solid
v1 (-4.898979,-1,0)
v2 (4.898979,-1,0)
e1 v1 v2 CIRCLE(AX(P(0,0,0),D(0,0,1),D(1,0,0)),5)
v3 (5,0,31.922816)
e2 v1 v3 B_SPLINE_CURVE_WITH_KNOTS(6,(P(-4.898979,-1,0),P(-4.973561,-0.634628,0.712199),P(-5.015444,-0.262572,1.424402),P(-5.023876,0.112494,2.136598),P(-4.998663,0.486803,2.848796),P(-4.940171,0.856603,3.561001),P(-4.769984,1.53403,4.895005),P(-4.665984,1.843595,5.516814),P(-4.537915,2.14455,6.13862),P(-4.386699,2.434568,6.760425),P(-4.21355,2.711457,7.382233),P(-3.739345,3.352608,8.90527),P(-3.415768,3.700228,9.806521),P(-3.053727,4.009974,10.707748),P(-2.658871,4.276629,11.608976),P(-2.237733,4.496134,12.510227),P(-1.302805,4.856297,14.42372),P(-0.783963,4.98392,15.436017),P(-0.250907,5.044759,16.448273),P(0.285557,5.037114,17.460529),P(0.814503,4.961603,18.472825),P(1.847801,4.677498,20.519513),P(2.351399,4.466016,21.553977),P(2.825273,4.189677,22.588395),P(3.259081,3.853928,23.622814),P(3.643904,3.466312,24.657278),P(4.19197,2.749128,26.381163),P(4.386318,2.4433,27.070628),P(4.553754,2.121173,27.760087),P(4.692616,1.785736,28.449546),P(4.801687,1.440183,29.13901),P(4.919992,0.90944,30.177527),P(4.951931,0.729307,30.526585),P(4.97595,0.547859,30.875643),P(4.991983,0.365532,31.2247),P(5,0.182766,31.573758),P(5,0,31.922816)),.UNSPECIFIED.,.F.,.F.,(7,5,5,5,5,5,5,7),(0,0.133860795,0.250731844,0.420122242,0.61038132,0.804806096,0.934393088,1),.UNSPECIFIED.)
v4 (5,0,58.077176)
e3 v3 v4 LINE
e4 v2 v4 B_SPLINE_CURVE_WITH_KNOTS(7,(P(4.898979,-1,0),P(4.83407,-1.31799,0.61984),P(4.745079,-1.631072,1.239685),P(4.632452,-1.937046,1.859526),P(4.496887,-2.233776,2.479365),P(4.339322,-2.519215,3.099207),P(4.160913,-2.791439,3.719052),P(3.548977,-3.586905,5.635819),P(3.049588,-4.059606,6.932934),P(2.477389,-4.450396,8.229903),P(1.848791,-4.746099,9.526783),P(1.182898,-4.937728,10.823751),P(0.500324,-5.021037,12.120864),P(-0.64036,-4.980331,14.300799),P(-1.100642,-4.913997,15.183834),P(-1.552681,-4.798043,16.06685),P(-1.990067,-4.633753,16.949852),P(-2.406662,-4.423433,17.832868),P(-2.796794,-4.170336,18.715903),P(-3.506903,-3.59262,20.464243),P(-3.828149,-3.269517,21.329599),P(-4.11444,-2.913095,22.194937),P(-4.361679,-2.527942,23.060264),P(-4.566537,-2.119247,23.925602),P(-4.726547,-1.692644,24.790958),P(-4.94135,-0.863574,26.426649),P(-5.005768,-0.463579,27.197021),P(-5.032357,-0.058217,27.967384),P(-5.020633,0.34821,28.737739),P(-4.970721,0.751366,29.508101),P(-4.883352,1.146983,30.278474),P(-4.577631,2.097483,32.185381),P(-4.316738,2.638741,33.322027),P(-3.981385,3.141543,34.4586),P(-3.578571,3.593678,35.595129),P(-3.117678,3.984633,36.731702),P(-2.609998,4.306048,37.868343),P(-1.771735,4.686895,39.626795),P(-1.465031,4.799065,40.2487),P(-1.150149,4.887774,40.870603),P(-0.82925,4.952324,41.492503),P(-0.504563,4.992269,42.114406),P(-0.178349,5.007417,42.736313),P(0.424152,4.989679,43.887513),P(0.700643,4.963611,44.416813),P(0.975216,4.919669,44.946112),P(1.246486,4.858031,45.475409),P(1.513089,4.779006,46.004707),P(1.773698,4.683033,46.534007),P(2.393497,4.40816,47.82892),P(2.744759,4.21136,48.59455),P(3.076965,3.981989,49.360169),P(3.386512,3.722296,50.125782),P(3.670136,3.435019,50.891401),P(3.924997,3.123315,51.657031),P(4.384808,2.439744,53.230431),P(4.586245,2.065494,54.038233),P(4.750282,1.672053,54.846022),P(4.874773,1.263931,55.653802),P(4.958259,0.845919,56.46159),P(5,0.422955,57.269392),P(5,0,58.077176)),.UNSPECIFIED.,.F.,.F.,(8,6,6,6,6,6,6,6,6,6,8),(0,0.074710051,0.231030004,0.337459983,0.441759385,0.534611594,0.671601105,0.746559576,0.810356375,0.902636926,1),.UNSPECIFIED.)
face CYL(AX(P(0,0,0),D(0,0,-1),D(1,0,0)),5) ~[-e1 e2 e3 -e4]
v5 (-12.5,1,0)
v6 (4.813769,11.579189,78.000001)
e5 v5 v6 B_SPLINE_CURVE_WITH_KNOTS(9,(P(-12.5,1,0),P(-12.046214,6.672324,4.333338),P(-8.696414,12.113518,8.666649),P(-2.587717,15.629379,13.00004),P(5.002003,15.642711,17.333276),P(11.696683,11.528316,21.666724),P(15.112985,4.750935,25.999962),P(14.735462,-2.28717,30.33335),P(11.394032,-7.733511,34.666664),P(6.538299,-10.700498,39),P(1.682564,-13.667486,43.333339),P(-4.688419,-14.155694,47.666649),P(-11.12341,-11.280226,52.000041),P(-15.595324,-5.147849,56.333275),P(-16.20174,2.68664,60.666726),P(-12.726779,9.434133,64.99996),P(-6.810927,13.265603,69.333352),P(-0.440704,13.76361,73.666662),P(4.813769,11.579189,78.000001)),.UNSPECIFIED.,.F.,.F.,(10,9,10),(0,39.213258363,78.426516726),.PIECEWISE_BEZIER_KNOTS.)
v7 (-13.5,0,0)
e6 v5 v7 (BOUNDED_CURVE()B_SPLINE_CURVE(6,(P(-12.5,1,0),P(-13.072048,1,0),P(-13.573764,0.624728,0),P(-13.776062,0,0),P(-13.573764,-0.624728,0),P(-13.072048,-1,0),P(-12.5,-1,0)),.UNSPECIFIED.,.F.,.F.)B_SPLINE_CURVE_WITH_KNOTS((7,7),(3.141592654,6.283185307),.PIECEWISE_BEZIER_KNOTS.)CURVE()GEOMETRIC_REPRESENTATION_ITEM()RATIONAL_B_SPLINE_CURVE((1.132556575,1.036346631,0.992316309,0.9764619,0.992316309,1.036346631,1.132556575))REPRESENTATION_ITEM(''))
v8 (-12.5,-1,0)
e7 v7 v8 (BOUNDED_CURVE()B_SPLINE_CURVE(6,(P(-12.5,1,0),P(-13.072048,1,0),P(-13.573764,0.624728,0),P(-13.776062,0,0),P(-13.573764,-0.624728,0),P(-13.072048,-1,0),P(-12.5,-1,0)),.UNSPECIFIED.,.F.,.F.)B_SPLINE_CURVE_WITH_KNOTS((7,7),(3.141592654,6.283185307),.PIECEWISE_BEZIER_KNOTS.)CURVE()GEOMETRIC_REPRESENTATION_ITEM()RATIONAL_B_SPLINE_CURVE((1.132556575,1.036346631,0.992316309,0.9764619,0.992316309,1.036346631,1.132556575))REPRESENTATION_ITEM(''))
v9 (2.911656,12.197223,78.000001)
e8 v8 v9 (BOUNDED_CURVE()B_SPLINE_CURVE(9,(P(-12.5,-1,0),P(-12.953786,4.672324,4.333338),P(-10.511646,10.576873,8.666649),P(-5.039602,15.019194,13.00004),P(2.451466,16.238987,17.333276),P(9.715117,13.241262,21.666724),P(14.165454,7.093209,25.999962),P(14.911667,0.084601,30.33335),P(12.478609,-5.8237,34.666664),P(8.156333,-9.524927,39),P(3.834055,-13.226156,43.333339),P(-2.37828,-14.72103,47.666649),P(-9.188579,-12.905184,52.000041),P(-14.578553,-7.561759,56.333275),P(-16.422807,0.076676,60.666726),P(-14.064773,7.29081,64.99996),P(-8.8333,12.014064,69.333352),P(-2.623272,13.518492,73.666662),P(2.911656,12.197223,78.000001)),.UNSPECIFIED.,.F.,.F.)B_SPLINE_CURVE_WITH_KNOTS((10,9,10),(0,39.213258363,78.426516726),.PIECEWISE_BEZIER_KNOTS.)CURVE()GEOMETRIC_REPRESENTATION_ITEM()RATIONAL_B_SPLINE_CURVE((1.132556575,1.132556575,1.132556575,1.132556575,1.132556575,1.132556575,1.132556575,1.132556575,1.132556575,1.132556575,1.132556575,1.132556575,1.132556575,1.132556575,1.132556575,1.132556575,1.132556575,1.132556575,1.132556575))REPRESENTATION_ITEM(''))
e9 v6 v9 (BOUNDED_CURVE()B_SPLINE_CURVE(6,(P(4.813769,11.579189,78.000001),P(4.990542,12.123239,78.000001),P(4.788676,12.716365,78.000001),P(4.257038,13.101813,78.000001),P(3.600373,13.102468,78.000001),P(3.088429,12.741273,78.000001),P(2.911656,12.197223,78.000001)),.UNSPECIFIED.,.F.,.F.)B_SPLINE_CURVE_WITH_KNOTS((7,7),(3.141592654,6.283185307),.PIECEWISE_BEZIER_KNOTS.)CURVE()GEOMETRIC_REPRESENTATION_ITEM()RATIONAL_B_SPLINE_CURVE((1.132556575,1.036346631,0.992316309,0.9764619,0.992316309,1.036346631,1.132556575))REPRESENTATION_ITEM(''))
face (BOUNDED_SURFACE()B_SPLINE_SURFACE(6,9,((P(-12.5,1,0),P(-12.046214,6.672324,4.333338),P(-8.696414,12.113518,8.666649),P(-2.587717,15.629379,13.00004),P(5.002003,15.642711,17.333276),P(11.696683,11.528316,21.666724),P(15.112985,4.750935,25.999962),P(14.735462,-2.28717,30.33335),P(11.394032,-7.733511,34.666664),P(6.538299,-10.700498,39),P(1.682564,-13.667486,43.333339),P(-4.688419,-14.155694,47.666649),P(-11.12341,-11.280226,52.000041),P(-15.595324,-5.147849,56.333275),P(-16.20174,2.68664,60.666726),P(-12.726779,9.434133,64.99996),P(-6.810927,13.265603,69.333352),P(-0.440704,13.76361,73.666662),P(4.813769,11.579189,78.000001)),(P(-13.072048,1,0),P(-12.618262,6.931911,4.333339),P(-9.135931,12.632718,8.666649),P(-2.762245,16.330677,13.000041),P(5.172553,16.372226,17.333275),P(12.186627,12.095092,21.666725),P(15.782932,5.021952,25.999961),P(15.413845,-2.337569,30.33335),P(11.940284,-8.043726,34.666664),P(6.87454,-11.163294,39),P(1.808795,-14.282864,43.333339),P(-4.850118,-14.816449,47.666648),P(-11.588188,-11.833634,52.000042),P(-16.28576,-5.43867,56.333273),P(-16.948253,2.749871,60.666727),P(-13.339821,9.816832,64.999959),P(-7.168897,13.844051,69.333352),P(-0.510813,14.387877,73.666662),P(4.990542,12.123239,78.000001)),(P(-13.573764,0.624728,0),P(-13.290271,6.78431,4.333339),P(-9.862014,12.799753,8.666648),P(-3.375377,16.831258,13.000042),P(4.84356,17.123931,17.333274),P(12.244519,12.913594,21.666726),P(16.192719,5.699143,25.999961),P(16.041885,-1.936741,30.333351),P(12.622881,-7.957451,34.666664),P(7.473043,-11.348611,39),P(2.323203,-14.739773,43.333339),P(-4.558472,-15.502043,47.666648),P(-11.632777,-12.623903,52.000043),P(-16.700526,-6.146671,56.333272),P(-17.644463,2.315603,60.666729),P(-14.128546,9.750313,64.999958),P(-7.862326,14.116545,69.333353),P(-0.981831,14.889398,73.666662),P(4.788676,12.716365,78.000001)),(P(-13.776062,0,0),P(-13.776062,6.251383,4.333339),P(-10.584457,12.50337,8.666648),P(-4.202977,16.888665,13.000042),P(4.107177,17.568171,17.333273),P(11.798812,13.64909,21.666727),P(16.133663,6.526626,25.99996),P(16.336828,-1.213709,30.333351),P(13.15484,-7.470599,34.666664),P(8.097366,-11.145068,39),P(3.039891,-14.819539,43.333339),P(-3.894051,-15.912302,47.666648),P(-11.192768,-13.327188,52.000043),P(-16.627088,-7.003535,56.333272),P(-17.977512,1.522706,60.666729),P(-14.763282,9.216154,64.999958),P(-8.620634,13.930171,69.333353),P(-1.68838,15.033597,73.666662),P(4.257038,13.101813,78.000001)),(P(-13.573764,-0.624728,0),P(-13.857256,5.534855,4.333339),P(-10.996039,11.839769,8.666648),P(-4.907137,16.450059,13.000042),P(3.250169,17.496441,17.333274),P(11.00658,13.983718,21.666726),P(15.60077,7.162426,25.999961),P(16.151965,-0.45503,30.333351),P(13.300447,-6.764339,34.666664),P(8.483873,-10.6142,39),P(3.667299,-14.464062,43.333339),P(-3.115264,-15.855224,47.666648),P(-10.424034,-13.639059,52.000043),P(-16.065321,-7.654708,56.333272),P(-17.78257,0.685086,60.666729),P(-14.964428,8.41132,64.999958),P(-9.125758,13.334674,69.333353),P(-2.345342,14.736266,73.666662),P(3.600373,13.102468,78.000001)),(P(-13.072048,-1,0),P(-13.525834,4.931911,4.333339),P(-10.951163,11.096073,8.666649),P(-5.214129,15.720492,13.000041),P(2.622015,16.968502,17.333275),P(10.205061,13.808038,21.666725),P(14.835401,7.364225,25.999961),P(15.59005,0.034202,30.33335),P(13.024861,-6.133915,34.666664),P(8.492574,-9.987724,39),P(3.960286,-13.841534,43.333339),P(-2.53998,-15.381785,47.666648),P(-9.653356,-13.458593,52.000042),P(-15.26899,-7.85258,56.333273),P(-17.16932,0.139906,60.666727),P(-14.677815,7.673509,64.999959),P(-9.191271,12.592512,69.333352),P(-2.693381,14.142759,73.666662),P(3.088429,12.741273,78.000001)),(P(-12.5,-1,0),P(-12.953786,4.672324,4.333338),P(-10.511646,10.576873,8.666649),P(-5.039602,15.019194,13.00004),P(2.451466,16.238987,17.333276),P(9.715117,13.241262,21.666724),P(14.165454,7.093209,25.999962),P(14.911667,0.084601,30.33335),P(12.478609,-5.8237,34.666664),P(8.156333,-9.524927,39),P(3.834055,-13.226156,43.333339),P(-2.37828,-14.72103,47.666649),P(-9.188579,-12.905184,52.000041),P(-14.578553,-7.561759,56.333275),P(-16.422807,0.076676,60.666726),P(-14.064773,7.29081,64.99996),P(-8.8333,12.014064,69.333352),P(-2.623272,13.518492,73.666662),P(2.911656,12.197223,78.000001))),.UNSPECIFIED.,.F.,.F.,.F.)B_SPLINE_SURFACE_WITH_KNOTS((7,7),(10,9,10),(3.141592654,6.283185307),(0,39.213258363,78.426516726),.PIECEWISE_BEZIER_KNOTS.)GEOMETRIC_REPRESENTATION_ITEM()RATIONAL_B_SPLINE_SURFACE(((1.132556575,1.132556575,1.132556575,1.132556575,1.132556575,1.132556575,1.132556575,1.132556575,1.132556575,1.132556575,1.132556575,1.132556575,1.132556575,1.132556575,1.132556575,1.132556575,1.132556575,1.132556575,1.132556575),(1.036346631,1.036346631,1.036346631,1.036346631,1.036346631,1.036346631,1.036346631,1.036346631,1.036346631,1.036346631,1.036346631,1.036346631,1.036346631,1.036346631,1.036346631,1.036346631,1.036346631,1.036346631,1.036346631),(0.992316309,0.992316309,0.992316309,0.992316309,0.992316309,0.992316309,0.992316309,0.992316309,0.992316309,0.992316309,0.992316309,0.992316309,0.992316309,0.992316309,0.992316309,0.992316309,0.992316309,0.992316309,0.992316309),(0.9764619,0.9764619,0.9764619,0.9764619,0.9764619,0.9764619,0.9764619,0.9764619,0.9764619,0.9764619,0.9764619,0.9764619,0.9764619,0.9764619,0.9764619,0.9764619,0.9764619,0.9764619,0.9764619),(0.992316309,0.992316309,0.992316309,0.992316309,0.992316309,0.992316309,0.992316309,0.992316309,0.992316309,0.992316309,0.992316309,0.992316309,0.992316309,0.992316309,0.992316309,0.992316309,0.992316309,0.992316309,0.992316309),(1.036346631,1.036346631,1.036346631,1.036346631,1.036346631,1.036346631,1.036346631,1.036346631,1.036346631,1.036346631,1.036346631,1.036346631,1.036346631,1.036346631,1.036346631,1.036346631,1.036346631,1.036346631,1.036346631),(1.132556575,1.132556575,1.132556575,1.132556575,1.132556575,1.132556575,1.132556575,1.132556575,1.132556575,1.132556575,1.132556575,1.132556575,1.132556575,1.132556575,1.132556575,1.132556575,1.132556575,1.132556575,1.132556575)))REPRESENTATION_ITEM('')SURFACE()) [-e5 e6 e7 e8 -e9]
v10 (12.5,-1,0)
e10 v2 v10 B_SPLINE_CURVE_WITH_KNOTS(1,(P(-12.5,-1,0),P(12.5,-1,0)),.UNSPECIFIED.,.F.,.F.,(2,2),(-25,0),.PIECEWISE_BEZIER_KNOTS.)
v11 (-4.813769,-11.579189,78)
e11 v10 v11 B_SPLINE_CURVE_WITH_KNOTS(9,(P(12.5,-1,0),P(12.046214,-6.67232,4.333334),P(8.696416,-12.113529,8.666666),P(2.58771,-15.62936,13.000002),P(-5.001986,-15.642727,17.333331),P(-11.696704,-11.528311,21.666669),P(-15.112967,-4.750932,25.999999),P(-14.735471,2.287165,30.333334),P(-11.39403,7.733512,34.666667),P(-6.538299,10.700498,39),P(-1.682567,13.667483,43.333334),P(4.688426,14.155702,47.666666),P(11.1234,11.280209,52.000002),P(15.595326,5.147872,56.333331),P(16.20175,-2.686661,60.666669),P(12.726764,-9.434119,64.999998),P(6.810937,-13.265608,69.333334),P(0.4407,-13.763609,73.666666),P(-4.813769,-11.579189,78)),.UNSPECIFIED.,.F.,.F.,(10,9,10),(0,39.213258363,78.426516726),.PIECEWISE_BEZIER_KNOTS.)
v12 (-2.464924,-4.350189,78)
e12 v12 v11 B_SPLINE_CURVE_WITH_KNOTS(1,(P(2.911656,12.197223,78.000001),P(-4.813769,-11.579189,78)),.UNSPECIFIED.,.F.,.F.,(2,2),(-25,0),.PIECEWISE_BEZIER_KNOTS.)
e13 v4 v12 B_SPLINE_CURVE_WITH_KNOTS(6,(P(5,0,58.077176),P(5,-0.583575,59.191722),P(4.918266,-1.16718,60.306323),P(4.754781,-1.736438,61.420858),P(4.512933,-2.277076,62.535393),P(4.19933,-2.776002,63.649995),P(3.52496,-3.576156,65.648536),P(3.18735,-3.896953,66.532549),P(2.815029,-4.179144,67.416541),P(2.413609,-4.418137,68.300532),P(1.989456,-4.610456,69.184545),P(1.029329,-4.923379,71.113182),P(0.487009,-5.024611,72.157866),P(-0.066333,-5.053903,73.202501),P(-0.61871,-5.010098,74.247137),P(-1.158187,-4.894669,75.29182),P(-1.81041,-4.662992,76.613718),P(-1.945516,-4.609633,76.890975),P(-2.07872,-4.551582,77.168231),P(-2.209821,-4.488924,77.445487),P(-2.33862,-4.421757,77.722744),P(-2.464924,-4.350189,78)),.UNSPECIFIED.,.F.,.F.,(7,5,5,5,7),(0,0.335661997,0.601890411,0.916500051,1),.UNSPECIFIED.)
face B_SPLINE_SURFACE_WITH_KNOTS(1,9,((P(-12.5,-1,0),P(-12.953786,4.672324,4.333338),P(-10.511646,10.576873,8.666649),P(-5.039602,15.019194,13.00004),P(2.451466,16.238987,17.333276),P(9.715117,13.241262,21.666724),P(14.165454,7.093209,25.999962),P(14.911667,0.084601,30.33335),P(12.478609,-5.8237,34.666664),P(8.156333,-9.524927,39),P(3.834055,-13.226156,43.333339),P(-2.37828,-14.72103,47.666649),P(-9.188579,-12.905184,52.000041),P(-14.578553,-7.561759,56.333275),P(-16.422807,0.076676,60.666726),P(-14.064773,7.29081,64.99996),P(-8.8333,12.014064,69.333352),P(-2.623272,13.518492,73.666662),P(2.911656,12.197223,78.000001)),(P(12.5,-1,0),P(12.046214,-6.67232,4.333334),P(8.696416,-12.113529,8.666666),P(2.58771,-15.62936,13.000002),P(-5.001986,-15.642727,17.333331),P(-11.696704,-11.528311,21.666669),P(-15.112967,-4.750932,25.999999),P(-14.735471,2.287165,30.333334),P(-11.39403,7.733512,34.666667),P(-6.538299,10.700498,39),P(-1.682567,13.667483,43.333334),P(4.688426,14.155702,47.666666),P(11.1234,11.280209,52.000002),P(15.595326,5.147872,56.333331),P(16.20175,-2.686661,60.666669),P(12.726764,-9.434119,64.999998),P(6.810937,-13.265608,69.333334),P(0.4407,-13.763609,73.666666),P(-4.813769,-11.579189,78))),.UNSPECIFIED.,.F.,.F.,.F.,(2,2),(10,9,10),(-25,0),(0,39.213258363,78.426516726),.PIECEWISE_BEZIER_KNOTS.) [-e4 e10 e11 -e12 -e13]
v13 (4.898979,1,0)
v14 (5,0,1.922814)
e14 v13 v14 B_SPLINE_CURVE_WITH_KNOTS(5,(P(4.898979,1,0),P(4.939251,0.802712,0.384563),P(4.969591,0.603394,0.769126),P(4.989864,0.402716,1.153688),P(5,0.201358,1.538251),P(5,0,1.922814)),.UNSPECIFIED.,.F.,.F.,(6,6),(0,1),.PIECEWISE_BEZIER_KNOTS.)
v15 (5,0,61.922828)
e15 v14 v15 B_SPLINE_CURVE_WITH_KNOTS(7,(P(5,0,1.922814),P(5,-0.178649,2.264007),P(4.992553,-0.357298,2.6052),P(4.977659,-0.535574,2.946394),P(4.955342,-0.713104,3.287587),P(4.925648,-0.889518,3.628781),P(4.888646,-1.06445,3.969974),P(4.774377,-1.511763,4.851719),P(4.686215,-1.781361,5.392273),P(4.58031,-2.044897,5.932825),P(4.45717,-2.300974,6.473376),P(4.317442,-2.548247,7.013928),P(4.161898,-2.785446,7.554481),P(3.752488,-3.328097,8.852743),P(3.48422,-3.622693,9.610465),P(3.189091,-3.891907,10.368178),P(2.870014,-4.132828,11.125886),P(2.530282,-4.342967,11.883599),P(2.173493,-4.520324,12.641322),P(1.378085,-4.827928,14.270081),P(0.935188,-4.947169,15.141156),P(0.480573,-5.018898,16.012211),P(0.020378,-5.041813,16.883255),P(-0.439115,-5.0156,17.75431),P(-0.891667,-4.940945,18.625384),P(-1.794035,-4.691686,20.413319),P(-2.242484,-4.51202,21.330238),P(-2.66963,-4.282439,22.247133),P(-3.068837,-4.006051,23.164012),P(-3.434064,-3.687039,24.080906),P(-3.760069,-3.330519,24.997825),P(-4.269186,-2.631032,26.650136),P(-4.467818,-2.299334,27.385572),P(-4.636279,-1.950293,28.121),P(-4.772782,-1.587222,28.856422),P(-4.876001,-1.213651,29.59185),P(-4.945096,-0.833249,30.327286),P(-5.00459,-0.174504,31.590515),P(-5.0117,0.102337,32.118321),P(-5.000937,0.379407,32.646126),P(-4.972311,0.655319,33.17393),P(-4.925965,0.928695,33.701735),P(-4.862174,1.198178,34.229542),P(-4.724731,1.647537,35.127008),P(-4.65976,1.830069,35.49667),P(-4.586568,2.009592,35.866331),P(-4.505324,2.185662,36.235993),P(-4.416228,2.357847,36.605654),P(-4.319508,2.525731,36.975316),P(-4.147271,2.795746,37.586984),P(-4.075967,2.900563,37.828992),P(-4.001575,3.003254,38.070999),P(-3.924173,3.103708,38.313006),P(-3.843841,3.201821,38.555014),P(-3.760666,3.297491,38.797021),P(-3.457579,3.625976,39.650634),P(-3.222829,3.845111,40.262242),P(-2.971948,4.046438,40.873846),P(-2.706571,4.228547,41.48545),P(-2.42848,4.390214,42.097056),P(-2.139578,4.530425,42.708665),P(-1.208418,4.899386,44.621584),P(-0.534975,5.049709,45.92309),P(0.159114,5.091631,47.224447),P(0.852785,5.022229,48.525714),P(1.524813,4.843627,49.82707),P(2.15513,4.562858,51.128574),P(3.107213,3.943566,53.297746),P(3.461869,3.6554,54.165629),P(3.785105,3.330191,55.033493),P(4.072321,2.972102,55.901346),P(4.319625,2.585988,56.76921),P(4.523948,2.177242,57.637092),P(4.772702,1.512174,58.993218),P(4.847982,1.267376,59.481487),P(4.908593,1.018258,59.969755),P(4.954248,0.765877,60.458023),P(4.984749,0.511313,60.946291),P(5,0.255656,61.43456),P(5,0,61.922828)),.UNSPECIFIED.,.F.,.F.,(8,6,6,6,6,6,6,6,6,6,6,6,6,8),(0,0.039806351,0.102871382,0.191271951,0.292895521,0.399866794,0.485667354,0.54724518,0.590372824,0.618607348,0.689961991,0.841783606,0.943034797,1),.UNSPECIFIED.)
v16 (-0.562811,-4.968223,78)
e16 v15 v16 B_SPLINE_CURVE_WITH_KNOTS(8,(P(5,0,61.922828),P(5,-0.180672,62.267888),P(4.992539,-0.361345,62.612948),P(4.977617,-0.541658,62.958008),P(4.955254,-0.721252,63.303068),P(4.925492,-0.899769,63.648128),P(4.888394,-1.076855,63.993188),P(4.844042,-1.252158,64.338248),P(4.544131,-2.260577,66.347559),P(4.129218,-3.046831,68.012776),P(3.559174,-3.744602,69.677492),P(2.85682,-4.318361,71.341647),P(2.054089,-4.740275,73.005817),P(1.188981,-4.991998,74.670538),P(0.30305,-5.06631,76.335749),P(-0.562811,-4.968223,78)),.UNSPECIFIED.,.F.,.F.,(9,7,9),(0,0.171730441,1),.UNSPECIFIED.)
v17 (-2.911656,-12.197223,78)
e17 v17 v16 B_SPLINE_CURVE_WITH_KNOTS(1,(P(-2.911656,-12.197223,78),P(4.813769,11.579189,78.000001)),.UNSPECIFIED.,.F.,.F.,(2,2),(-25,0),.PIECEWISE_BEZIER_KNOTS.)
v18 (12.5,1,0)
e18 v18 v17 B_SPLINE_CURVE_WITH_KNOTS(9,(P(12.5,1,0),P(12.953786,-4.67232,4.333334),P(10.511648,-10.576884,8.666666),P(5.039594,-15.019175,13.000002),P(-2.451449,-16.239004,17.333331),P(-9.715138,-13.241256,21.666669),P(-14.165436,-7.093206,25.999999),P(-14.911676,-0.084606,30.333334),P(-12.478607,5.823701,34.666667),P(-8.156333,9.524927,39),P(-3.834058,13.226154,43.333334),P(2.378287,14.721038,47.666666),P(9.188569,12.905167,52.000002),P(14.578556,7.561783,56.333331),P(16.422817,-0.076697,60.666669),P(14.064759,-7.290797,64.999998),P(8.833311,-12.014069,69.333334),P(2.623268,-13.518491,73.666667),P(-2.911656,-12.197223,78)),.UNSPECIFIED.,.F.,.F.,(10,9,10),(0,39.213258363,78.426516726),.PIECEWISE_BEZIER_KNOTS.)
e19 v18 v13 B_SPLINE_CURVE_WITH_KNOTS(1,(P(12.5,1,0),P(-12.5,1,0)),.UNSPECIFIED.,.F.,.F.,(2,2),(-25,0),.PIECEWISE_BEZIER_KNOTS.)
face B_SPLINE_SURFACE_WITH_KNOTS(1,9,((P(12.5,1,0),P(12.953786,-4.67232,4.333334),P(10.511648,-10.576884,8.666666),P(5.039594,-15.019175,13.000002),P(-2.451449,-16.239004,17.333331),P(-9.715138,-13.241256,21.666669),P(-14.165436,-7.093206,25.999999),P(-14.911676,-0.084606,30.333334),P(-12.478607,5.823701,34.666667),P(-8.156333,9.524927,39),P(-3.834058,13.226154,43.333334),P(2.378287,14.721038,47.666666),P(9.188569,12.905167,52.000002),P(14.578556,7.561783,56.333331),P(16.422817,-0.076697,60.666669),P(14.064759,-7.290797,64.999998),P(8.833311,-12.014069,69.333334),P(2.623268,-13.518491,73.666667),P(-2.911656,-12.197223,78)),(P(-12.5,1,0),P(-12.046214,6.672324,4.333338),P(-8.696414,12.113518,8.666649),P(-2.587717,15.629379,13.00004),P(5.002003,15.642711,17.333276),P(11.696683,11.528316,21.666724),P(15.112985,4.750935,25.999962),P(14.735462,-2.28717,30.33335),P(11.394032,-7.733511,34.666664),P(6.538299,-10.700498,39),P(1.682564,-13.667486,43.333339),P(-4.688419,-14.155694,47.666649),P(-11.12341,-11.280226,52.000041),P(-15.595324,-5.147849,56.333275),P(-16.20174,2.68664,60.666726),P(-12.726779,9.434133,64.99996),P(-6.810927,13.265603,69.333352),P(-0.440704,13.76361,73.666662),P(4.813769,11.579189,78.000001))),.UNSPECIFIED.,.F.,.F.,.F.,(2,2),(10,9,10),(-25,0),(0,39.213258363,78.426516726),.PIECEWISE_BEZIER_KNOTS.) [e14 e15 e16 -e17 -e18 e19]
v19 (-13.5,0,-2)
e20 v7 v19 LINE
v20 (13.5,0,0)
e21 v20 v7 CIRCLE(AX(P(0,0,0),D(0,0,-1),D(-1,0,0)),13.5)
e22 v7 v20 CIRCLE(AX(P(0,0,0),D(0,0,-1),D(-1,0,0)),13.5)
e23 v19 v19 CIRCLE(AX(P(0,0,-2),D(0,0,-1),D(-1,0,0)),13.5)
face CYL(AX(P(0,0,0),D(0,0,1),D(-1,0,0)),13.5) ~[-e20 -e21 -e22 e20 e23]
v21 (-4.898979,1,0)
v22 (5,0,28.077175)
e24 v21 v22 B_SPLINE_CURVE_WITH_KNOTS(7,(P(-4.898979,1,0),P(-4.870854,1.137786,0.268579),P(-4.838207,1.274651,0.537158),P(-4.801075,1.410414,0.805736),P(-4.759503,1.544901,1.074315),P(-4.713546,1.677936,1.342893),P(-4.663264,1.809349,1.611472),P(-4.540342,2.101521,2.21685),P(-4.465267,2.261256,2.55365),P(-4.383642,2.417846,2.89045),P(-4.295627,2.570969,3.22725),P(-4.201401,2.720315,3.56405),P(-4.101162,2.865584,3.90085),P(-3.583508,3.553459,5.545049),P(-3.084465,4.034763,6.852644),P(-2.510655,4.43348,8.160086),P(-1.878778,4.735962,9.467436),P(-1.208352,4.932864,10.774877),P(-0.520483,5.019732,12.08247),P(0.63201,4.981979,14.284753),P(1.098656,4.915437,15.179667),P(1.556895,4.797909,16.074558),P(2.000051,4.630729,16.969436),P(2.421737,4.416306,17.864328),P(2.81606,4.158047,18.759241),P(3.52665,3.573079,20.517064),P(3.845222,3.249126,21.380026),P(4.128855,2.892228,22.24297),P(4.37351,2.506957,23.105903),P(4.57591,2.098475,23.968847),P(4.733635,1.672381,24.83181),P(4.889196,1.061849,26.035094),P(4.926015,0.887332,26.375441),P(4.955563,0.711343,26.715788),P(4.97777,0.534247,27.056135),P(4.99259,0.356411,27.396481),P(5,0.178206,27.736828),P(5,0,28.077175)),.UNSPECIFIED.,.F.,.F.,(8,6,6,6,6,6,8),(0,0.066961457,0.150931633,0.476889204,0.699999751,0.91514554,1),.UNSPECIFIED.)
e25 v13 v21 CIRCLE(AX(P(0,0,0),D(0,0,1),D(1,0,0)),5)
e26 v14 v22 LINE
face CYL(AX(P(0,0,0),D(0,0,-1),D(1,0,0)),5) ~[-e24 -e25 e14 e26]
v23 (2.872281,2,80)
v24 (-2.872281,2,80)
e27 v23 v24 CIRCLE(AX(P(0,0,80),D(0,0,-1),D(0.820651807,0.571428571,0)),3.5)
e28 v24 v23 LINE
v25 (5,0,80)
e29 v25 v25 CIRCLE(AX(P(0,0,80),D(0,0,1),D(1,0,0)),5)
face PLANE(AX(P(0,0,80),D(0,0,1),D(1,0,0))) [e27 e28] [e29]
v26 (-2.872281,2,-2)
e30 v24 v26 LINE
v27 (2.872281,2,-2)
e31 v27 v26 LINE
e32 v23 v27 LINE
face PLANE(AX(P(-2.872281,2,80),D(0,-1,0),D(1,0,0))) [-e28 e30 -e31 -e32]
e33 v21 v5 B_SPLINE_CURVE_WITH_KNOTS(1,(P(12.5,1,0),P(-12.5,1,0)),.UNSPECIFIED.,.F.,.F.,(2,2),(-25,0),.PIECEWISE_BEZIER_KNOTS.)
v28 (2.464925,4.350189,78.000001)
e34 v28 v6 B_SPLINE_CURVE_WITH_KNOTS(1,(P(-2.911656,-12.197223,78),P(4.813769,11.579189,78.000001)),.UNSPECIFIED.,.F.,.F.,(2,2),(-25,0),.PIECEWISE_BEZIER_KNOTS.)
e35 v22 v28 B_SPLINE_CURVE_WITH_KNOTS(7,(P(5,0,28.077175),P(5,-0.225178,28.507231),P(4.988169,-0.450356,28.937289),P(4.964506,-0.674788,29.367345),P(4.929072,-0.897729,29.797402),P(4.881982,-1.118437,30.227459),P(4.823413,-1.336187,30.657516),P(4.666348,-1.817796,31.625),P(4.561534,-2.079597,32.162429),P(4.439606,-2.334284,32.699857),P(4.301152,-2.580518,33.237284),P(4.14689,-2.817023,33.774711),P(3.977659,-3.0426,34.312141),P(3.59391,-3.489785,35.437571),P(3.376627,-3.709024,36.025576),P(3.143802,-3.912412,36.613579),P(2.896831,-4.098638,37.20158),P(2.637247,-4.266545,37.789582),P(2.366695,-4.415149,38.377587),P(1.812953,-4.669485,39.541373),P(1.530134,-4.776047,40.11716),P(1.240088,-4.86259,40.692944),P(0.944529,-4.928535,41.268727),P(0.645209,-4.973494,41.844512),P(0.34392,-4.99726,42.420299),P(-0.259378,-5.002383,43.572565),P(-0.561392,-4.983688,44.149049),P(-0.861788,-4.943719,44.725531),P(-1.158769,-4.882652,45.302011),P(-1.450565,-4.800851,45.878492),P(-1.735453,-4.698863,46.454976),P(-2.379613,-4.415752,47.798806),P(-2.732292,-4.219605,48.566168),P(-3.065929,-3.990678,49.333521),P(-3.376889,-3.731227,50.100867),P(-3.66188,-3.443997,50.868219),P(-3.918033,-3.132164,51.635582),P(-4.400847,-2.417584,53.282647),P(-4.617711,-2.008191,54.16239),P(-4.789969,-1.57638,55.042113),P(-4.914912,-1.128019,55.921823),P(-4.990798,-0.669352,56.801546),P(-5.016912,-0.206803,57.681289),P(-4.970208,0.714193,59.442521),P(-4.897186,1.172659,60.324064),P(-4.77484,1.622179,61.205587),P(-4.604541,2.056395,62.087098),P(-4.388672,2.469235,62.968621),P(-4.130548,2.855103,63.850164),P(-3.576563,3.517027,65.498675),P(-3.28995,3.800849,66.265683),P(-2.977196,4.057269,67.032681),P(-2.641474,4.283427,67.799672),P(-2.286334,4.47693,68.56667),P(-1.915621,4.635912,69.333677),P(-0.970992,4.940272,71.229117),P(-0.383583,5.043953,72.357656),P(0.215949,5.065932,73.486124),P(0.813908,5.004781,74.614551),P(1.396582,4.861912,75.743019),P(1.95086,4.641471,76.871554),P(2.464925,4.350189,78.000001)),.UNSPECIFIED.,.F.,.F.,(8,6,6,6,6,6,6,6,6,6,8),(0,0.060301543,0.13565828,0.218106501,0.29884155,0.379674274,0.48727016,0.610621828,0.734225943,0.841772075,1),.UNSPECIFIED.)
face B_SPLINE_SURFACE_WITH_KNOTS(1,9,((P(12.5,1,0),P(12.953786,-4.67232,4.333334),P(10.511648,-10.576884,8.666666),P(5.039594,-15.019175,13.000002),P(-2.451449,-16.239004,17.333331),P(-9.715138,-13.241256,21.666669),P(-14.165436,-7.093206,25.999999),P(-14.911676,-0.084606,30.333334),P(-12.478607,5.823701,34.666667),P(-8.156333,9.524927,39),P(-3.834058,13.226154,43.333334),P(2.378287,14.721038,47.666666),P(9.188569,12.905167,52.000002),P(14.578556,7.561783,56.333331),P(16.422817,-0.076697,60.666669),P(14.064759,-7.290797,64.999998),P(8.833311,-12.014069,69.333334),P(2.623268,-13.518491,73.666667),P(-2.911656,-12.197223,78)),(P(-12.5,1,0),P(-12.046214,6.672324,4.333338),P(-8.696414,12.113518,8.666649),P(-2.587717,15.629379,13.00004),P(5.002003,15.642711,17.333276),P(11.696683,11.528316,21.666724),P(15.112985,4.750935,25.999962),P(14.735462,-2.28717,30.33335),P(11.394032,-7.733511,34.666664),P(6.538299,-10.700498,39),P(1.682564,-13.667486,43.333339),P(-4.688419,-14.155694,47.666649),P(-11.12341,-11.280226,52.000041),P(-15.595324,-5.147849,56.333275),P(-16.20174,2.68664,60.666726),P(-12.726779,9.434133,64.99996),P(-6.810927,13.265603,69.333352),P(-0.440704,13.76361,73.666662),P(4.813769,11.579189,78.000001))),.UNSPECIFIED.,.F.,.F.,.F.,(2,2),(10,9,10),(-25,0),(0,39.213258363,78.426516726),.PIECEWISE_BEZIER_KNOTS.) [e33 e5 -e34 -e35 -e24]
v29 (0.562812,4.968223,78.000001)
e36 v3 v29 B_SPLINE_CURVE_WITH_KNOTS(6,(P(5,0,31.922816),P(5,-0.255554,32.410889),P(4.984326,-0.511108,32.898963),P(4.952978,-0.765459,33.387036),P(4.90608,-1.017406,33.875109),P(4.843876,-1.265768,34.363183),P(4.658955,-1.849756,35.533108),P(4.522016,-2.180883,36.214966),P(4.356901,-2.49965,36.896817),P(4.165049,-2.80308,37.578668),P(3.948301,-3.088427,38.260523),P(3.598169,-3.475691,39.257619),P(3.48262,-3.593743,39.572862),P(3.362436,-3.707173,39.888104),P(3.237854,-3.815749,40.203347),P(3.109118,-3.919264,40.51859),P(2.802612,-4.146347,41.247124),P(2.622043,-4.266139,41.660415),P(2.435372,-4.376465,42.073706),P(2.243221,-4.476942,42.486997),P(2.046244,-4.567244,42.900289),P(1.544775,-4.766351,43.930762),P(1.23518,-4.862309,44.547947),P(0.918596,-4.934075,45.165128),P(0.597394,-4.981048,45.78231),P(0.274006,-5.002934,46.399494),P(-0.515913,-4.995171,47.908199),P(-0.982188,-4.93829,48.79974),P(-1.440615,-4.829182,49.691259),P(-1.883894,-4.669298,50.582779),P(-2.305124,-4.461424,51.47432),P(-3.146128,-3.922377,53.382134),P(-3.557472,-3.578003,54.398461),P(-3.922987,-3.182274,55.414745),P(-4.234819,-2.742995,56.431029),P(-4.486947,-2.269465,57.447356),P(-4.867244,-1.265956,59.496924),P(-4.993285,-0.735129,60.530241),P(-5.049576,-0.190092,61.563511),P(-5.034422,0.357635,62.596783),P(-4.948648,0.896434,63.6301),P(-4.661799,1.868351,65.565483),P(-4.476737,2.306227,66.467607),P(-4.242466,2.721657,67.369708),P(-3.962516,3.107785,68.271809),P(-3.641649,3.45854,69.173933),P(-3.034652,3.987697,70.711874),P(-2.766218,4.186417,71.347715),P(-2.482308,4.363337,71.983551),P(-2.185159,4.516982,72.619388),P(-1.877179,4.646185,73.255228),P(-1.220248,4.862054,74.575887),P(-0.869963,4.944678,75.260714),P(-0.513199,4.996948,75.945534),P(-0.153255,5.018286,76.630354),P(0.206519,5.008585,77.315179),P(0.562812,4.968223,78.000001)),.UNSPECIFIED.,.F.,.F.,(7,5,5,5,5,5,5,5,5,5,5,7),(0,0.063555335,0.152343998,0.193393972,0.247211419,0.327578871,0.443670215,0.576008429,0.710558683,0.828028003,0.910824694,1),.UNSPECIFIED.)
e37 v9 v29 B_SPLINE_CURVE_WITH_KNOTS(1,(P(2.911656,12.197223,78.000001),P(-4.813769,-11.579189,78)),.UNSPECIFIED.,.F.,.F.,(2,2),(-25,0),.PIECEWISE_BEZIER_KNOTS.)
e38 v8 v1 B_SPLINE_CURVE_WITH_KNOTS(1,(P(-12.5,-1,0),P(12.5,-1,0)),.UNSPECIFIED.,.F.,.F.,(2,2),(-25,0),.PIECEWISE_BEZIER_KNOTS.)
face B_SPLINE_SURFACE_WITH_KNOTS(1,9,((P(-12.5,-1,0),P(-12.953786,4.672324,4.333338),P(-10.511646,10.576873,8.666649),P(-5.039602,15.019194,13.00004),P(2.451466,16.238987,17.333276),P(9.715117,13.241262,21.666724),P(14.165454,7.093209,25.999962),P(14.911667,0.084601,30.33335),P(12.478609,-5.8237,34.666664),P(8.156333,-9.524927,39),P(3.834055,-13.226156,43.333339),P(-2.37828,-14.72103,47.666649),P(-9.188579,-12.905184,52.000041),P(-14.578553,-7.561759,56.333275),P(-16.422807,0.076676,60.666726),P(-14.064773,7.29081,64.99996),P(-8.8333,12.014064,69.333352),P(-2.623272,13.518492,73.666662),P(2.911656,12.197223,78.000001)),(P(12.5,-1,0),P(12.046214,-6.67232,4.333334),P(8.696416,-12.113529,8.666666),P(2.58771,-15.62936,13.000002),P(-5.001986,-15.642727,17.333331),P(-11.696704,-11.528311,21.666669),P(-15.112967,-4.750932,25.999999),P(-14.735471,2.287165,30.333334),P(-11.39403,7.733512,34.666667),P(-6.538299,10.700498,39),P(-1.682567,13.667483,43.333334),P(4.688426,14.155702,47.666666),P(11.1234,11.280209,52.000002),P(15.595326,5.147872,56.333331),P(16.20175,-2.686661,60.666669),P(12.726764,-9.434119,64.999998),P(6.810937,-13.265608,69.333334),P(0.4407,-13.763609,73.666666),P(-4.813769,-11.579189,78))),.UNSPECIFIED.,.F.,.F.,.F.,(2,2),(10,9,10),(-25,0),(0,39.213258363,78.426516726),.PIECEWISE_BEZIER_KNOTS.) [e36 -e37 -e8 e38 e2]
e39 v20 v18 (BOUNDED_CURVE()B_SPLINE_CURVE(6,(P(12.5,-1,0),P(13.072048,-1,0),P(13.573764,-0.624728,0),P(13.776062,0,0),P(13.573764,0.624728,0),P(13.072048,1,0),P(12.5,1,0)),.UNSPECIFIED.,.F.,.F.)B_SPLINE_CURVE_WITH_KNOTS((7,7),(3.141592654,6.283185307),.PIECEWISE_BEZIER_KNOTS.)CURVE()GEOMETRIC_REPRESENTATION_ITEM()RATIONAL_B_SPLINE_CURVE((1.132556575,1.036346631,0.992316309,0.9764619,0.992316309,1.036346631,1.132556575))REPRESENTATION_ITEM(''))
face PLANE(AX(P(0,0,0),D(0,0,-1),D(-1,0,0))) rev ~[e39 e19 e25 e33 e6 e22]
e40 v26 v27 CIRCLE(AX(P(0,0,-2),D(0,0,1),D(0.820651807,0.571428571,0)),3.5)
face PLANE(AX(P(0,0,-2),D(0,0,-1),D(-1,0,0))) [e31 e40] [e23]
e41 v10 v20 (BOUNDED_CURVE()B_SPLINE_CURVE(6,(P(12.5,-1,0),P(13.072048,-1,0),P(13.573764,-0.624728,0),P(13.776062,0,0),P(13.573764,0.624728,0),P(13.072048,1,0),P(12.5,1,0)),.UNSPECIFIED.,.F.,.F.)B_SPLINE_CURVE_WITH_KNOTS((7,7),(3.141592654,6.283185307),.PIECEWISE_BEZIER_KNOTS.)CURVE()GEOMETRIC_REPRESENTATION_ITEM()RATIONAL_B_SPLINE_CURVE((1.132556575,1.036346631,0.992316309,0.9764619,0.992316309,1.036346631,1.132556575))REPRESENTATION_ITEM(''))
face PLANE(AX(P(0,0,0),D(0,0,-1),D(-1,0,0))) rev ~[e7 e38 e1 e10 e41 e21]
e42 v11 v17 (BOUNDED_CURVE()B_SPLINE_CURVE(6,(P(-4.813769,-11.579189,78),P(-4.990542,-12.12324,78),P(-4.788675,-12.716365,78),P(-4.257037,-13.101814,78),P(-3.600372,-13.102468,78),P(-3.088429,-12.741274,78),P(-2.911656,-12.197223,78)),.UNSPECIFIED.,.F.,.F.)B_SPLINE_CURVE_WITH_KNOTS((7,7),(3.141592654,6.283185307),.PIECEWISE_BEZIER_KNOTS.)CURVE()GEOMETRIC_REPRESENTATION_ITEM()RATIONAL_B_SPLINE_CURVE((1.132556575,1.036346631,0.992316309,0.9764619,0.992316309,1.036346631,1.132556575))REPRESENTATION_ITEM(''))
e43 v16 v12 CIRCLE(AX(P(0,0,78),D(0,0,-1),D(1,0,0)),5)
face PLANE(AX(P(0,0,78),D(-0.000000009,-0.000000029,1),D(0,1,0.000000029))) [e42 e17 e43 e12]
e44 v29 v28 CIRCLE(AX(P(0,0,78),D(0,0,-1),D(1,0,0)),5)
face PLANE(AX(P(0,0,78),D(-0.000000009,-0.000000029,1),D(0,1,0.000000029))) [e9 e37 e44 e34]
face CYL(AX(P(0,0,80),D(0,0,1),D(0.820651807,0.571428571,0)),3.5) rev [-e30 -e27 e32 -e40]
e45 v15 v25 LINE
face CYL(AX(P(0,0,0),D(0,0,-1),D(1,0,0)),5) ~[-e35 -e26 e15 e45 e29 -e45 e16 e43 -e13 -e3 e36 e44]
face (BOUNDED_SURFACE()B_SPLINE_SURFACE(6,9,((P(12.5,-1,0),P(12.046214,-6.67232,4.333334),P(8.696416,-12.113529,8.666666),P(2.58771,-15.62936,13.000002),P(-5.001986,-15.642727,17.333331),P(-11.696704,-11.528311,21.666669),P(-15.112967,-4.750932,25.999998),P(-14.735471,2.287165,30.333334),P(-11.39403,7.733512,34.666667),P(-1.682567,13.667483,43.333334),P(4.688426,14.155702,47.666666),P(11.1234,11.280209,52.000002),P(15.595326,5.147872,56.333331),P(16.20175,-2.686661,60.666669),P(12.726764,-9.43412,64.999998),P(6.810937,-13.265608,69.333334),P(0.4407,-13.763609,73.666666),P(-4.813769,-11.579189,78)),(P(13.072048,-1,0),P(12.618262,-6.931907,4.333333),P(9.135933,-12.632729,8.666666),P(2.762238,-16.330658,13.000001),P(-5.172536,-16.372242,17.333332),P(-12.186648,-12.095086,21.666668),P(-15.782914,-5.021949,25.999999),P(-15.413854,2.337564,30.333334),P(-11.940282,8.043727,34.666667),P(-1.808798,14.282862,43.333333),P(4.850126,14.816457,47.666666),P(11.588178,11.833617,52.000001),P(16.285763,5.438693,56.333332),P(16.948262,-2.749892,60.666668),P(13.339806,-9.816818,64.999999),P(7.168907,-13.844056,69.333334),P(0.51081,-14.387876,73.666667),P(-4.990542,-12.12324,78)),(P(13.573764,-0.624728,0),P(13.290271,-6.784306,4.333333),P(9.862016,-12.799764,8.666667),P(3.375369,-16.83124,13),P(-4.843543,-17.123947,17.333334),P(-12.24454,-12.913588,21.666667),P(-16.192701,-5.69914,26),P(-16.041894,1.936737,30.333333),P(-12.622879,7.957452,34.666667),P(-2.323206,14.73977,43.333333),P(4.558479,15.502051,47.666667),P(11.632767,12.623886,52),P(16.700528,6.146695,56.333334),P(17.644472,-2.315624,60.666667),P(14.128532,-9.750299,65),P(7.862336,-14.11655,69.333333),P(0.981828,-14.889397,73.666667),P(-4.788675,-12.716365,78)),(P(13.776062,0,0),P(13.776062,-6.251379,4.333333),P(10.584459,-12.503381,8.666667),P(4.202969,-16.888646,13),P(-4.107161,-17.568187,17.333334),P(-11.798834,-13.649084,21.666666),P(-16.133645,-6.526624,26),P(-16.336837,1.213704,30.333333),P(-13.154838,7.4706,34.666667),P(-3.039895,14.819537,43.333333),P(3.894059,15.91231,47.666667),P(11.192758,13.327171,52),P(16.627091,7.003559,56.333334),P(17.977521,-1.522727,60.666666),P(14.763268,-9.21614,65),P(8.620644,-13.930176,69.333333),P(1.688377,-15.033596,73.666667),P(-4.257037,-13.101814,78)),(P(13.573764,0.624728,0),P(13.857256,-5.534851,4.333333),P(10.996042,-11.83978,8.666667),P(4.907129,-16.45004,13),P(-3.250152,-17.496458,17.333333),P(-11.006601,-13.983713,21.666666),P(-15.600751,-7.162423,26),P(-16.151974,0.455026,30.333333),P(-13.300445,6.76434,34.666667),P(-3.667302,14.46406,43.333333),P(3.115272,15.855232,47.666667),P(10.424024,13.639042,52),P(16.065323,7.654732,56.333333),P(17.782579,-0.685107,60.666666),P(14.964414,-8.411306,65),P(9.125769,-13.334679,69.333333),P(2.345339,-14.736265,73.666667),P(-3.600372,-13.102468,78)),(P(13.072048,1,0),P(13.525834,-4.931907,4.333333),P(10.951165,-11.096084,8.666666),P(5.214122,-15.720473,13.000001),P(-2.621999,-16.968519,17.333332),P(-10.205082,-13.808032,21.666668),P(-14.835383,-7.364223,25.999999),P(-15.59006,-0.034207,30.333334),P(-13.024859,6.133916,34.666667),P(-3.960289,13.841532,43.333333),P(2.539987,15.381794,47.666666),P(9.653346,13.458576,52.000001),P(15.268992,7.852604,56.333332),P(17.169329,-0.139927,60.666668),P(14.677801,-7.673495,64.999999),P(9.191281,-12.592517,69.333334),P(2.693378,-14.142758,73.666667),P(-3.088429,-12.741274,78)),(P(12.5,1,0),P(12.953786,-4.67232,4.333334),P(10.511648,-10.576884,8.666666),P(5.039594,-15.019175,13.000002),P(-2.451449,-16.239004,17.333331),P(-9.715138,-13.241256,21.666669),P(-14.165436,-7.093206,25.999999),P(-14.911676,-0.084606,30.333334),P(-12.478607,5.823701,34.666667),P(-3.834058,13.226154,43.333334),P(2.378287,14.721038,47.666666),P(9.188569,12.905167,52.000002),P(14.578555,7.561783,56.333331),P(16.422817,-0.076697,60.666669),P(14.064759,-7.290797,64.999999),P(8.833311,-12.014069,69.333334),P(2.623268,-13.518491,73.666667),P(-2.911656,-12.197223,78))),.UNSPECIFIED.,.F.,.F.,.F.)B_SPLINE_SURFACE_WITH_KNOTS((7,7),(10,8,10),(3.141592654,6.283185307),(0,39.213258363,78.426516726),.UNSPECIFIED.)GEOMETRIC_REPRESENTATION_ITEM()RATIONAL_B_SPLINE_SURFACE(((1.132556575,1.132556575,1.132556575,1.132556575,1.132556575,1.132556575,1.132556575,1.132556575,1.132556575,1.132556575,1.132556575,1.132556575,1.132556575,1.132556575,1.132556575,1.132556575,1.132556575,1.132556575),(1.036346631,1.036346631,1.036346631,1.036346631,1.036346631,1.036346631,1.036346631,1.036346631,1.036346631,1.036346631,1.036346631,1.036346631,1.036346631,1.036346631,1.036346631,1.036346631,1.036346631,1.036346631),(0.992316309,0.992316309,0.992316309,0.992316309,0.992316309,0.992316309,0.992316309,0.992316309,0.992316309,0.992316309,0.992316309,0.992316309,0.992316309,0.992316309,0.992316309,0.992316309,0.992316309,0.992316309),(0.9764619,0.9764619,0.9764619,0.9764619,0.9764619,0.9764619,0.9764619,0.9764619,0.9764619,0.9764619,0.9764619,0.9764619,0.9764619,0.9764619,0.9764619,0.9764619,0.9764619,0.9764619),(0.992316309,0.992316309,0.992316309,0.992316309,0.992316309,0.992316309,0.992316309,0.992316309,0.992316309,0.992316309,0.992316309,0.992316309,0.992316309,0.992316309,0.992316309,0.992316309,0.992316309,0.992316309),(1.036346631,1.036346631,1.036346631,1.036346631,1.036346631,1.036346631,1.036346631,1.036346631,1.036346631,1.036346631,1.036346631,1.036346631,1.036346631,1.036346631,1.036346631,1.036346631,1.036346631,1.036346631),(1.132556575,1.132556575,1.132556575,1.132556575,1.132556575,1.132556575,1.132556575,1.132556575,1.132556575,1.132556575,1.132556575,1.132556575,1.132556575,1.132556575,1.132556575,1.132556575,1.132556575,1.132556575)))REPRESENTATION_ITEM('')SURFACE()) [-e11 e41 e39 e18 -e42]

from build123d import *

# Parameters (mm, degrees)
SKETCH1_R           = 5
BOSS_EXTRUDE1_DEPTH = 80
SWEEP1_PITCH        = 60
SWEEP1_HEIGHT       = 78
SWEEP1_RADIUS       = 13.5
SKETCH5_R           = 13.5
BOSS_EXTRUDE2_DEPTH = 2
CUT_EXTRUDE1_DEPTH  = 83


with BuildPart() as part:
    # Sketch1 → Boss-Extrude1 (new body)
    with BuildSketch(Plane.XY):
        Circle(SKETCH1_R)
    extrude(amount=BOSS_EXTRUDE1_DEPTH)

    # Sweep1: sweep along a helix
    with BuildLine() as sweep1_path:
        Helix(SWEEP1_PITCH, SWEEP1_HEIGHT, SWEEP1_RADIUS, center=(0, 0, 0), direction=(0, 0, 1), lefthand=True)
    # Sketch2 → Sweep1 (sweep)
    with BuildSketch(Plane.XY):
        with BuildLine():
            Line((-12.5, 1), (12.5, 1))
            ThreePointArc((12.5, 1), (13.5, 0), (12.5, -1))
            Line((12.5, -1), (-12.5, -1))
            ThreePointArc((-12.5, -1), (-13.5, 0), (-12.5, 1))
        make_face()
    sweep(path=sweep1_path.line, is_frenet=True)

    # Sketch5 → Boss-Extrude2 (add)
    with BuildSketch(Plane(origin=(0, 0, 0), x_dir=(-1, 0, 0), z_dir=(0, 0, -1))):
        Circle(SKETCH5_R)
    extrude(amount=BOSS_EXTRUDE2_DEPTH)

    # Sketch4 → Cut-Extrude1 (cut, through all)
    with BuildSketch(Plane.XY.offset(80)):
        with BuildLine():
            Line((-2.872281323, 2), (2.872281323, 2))
            ThreePointArc((2.872281323, 2), (0, -3.5), (-2.872281323, 2))
        make_face()
    extrude(amount=-CUT_EXTRUDE1_DEPTH, mode=Mode.SUBTRACT)


solid = part.part
